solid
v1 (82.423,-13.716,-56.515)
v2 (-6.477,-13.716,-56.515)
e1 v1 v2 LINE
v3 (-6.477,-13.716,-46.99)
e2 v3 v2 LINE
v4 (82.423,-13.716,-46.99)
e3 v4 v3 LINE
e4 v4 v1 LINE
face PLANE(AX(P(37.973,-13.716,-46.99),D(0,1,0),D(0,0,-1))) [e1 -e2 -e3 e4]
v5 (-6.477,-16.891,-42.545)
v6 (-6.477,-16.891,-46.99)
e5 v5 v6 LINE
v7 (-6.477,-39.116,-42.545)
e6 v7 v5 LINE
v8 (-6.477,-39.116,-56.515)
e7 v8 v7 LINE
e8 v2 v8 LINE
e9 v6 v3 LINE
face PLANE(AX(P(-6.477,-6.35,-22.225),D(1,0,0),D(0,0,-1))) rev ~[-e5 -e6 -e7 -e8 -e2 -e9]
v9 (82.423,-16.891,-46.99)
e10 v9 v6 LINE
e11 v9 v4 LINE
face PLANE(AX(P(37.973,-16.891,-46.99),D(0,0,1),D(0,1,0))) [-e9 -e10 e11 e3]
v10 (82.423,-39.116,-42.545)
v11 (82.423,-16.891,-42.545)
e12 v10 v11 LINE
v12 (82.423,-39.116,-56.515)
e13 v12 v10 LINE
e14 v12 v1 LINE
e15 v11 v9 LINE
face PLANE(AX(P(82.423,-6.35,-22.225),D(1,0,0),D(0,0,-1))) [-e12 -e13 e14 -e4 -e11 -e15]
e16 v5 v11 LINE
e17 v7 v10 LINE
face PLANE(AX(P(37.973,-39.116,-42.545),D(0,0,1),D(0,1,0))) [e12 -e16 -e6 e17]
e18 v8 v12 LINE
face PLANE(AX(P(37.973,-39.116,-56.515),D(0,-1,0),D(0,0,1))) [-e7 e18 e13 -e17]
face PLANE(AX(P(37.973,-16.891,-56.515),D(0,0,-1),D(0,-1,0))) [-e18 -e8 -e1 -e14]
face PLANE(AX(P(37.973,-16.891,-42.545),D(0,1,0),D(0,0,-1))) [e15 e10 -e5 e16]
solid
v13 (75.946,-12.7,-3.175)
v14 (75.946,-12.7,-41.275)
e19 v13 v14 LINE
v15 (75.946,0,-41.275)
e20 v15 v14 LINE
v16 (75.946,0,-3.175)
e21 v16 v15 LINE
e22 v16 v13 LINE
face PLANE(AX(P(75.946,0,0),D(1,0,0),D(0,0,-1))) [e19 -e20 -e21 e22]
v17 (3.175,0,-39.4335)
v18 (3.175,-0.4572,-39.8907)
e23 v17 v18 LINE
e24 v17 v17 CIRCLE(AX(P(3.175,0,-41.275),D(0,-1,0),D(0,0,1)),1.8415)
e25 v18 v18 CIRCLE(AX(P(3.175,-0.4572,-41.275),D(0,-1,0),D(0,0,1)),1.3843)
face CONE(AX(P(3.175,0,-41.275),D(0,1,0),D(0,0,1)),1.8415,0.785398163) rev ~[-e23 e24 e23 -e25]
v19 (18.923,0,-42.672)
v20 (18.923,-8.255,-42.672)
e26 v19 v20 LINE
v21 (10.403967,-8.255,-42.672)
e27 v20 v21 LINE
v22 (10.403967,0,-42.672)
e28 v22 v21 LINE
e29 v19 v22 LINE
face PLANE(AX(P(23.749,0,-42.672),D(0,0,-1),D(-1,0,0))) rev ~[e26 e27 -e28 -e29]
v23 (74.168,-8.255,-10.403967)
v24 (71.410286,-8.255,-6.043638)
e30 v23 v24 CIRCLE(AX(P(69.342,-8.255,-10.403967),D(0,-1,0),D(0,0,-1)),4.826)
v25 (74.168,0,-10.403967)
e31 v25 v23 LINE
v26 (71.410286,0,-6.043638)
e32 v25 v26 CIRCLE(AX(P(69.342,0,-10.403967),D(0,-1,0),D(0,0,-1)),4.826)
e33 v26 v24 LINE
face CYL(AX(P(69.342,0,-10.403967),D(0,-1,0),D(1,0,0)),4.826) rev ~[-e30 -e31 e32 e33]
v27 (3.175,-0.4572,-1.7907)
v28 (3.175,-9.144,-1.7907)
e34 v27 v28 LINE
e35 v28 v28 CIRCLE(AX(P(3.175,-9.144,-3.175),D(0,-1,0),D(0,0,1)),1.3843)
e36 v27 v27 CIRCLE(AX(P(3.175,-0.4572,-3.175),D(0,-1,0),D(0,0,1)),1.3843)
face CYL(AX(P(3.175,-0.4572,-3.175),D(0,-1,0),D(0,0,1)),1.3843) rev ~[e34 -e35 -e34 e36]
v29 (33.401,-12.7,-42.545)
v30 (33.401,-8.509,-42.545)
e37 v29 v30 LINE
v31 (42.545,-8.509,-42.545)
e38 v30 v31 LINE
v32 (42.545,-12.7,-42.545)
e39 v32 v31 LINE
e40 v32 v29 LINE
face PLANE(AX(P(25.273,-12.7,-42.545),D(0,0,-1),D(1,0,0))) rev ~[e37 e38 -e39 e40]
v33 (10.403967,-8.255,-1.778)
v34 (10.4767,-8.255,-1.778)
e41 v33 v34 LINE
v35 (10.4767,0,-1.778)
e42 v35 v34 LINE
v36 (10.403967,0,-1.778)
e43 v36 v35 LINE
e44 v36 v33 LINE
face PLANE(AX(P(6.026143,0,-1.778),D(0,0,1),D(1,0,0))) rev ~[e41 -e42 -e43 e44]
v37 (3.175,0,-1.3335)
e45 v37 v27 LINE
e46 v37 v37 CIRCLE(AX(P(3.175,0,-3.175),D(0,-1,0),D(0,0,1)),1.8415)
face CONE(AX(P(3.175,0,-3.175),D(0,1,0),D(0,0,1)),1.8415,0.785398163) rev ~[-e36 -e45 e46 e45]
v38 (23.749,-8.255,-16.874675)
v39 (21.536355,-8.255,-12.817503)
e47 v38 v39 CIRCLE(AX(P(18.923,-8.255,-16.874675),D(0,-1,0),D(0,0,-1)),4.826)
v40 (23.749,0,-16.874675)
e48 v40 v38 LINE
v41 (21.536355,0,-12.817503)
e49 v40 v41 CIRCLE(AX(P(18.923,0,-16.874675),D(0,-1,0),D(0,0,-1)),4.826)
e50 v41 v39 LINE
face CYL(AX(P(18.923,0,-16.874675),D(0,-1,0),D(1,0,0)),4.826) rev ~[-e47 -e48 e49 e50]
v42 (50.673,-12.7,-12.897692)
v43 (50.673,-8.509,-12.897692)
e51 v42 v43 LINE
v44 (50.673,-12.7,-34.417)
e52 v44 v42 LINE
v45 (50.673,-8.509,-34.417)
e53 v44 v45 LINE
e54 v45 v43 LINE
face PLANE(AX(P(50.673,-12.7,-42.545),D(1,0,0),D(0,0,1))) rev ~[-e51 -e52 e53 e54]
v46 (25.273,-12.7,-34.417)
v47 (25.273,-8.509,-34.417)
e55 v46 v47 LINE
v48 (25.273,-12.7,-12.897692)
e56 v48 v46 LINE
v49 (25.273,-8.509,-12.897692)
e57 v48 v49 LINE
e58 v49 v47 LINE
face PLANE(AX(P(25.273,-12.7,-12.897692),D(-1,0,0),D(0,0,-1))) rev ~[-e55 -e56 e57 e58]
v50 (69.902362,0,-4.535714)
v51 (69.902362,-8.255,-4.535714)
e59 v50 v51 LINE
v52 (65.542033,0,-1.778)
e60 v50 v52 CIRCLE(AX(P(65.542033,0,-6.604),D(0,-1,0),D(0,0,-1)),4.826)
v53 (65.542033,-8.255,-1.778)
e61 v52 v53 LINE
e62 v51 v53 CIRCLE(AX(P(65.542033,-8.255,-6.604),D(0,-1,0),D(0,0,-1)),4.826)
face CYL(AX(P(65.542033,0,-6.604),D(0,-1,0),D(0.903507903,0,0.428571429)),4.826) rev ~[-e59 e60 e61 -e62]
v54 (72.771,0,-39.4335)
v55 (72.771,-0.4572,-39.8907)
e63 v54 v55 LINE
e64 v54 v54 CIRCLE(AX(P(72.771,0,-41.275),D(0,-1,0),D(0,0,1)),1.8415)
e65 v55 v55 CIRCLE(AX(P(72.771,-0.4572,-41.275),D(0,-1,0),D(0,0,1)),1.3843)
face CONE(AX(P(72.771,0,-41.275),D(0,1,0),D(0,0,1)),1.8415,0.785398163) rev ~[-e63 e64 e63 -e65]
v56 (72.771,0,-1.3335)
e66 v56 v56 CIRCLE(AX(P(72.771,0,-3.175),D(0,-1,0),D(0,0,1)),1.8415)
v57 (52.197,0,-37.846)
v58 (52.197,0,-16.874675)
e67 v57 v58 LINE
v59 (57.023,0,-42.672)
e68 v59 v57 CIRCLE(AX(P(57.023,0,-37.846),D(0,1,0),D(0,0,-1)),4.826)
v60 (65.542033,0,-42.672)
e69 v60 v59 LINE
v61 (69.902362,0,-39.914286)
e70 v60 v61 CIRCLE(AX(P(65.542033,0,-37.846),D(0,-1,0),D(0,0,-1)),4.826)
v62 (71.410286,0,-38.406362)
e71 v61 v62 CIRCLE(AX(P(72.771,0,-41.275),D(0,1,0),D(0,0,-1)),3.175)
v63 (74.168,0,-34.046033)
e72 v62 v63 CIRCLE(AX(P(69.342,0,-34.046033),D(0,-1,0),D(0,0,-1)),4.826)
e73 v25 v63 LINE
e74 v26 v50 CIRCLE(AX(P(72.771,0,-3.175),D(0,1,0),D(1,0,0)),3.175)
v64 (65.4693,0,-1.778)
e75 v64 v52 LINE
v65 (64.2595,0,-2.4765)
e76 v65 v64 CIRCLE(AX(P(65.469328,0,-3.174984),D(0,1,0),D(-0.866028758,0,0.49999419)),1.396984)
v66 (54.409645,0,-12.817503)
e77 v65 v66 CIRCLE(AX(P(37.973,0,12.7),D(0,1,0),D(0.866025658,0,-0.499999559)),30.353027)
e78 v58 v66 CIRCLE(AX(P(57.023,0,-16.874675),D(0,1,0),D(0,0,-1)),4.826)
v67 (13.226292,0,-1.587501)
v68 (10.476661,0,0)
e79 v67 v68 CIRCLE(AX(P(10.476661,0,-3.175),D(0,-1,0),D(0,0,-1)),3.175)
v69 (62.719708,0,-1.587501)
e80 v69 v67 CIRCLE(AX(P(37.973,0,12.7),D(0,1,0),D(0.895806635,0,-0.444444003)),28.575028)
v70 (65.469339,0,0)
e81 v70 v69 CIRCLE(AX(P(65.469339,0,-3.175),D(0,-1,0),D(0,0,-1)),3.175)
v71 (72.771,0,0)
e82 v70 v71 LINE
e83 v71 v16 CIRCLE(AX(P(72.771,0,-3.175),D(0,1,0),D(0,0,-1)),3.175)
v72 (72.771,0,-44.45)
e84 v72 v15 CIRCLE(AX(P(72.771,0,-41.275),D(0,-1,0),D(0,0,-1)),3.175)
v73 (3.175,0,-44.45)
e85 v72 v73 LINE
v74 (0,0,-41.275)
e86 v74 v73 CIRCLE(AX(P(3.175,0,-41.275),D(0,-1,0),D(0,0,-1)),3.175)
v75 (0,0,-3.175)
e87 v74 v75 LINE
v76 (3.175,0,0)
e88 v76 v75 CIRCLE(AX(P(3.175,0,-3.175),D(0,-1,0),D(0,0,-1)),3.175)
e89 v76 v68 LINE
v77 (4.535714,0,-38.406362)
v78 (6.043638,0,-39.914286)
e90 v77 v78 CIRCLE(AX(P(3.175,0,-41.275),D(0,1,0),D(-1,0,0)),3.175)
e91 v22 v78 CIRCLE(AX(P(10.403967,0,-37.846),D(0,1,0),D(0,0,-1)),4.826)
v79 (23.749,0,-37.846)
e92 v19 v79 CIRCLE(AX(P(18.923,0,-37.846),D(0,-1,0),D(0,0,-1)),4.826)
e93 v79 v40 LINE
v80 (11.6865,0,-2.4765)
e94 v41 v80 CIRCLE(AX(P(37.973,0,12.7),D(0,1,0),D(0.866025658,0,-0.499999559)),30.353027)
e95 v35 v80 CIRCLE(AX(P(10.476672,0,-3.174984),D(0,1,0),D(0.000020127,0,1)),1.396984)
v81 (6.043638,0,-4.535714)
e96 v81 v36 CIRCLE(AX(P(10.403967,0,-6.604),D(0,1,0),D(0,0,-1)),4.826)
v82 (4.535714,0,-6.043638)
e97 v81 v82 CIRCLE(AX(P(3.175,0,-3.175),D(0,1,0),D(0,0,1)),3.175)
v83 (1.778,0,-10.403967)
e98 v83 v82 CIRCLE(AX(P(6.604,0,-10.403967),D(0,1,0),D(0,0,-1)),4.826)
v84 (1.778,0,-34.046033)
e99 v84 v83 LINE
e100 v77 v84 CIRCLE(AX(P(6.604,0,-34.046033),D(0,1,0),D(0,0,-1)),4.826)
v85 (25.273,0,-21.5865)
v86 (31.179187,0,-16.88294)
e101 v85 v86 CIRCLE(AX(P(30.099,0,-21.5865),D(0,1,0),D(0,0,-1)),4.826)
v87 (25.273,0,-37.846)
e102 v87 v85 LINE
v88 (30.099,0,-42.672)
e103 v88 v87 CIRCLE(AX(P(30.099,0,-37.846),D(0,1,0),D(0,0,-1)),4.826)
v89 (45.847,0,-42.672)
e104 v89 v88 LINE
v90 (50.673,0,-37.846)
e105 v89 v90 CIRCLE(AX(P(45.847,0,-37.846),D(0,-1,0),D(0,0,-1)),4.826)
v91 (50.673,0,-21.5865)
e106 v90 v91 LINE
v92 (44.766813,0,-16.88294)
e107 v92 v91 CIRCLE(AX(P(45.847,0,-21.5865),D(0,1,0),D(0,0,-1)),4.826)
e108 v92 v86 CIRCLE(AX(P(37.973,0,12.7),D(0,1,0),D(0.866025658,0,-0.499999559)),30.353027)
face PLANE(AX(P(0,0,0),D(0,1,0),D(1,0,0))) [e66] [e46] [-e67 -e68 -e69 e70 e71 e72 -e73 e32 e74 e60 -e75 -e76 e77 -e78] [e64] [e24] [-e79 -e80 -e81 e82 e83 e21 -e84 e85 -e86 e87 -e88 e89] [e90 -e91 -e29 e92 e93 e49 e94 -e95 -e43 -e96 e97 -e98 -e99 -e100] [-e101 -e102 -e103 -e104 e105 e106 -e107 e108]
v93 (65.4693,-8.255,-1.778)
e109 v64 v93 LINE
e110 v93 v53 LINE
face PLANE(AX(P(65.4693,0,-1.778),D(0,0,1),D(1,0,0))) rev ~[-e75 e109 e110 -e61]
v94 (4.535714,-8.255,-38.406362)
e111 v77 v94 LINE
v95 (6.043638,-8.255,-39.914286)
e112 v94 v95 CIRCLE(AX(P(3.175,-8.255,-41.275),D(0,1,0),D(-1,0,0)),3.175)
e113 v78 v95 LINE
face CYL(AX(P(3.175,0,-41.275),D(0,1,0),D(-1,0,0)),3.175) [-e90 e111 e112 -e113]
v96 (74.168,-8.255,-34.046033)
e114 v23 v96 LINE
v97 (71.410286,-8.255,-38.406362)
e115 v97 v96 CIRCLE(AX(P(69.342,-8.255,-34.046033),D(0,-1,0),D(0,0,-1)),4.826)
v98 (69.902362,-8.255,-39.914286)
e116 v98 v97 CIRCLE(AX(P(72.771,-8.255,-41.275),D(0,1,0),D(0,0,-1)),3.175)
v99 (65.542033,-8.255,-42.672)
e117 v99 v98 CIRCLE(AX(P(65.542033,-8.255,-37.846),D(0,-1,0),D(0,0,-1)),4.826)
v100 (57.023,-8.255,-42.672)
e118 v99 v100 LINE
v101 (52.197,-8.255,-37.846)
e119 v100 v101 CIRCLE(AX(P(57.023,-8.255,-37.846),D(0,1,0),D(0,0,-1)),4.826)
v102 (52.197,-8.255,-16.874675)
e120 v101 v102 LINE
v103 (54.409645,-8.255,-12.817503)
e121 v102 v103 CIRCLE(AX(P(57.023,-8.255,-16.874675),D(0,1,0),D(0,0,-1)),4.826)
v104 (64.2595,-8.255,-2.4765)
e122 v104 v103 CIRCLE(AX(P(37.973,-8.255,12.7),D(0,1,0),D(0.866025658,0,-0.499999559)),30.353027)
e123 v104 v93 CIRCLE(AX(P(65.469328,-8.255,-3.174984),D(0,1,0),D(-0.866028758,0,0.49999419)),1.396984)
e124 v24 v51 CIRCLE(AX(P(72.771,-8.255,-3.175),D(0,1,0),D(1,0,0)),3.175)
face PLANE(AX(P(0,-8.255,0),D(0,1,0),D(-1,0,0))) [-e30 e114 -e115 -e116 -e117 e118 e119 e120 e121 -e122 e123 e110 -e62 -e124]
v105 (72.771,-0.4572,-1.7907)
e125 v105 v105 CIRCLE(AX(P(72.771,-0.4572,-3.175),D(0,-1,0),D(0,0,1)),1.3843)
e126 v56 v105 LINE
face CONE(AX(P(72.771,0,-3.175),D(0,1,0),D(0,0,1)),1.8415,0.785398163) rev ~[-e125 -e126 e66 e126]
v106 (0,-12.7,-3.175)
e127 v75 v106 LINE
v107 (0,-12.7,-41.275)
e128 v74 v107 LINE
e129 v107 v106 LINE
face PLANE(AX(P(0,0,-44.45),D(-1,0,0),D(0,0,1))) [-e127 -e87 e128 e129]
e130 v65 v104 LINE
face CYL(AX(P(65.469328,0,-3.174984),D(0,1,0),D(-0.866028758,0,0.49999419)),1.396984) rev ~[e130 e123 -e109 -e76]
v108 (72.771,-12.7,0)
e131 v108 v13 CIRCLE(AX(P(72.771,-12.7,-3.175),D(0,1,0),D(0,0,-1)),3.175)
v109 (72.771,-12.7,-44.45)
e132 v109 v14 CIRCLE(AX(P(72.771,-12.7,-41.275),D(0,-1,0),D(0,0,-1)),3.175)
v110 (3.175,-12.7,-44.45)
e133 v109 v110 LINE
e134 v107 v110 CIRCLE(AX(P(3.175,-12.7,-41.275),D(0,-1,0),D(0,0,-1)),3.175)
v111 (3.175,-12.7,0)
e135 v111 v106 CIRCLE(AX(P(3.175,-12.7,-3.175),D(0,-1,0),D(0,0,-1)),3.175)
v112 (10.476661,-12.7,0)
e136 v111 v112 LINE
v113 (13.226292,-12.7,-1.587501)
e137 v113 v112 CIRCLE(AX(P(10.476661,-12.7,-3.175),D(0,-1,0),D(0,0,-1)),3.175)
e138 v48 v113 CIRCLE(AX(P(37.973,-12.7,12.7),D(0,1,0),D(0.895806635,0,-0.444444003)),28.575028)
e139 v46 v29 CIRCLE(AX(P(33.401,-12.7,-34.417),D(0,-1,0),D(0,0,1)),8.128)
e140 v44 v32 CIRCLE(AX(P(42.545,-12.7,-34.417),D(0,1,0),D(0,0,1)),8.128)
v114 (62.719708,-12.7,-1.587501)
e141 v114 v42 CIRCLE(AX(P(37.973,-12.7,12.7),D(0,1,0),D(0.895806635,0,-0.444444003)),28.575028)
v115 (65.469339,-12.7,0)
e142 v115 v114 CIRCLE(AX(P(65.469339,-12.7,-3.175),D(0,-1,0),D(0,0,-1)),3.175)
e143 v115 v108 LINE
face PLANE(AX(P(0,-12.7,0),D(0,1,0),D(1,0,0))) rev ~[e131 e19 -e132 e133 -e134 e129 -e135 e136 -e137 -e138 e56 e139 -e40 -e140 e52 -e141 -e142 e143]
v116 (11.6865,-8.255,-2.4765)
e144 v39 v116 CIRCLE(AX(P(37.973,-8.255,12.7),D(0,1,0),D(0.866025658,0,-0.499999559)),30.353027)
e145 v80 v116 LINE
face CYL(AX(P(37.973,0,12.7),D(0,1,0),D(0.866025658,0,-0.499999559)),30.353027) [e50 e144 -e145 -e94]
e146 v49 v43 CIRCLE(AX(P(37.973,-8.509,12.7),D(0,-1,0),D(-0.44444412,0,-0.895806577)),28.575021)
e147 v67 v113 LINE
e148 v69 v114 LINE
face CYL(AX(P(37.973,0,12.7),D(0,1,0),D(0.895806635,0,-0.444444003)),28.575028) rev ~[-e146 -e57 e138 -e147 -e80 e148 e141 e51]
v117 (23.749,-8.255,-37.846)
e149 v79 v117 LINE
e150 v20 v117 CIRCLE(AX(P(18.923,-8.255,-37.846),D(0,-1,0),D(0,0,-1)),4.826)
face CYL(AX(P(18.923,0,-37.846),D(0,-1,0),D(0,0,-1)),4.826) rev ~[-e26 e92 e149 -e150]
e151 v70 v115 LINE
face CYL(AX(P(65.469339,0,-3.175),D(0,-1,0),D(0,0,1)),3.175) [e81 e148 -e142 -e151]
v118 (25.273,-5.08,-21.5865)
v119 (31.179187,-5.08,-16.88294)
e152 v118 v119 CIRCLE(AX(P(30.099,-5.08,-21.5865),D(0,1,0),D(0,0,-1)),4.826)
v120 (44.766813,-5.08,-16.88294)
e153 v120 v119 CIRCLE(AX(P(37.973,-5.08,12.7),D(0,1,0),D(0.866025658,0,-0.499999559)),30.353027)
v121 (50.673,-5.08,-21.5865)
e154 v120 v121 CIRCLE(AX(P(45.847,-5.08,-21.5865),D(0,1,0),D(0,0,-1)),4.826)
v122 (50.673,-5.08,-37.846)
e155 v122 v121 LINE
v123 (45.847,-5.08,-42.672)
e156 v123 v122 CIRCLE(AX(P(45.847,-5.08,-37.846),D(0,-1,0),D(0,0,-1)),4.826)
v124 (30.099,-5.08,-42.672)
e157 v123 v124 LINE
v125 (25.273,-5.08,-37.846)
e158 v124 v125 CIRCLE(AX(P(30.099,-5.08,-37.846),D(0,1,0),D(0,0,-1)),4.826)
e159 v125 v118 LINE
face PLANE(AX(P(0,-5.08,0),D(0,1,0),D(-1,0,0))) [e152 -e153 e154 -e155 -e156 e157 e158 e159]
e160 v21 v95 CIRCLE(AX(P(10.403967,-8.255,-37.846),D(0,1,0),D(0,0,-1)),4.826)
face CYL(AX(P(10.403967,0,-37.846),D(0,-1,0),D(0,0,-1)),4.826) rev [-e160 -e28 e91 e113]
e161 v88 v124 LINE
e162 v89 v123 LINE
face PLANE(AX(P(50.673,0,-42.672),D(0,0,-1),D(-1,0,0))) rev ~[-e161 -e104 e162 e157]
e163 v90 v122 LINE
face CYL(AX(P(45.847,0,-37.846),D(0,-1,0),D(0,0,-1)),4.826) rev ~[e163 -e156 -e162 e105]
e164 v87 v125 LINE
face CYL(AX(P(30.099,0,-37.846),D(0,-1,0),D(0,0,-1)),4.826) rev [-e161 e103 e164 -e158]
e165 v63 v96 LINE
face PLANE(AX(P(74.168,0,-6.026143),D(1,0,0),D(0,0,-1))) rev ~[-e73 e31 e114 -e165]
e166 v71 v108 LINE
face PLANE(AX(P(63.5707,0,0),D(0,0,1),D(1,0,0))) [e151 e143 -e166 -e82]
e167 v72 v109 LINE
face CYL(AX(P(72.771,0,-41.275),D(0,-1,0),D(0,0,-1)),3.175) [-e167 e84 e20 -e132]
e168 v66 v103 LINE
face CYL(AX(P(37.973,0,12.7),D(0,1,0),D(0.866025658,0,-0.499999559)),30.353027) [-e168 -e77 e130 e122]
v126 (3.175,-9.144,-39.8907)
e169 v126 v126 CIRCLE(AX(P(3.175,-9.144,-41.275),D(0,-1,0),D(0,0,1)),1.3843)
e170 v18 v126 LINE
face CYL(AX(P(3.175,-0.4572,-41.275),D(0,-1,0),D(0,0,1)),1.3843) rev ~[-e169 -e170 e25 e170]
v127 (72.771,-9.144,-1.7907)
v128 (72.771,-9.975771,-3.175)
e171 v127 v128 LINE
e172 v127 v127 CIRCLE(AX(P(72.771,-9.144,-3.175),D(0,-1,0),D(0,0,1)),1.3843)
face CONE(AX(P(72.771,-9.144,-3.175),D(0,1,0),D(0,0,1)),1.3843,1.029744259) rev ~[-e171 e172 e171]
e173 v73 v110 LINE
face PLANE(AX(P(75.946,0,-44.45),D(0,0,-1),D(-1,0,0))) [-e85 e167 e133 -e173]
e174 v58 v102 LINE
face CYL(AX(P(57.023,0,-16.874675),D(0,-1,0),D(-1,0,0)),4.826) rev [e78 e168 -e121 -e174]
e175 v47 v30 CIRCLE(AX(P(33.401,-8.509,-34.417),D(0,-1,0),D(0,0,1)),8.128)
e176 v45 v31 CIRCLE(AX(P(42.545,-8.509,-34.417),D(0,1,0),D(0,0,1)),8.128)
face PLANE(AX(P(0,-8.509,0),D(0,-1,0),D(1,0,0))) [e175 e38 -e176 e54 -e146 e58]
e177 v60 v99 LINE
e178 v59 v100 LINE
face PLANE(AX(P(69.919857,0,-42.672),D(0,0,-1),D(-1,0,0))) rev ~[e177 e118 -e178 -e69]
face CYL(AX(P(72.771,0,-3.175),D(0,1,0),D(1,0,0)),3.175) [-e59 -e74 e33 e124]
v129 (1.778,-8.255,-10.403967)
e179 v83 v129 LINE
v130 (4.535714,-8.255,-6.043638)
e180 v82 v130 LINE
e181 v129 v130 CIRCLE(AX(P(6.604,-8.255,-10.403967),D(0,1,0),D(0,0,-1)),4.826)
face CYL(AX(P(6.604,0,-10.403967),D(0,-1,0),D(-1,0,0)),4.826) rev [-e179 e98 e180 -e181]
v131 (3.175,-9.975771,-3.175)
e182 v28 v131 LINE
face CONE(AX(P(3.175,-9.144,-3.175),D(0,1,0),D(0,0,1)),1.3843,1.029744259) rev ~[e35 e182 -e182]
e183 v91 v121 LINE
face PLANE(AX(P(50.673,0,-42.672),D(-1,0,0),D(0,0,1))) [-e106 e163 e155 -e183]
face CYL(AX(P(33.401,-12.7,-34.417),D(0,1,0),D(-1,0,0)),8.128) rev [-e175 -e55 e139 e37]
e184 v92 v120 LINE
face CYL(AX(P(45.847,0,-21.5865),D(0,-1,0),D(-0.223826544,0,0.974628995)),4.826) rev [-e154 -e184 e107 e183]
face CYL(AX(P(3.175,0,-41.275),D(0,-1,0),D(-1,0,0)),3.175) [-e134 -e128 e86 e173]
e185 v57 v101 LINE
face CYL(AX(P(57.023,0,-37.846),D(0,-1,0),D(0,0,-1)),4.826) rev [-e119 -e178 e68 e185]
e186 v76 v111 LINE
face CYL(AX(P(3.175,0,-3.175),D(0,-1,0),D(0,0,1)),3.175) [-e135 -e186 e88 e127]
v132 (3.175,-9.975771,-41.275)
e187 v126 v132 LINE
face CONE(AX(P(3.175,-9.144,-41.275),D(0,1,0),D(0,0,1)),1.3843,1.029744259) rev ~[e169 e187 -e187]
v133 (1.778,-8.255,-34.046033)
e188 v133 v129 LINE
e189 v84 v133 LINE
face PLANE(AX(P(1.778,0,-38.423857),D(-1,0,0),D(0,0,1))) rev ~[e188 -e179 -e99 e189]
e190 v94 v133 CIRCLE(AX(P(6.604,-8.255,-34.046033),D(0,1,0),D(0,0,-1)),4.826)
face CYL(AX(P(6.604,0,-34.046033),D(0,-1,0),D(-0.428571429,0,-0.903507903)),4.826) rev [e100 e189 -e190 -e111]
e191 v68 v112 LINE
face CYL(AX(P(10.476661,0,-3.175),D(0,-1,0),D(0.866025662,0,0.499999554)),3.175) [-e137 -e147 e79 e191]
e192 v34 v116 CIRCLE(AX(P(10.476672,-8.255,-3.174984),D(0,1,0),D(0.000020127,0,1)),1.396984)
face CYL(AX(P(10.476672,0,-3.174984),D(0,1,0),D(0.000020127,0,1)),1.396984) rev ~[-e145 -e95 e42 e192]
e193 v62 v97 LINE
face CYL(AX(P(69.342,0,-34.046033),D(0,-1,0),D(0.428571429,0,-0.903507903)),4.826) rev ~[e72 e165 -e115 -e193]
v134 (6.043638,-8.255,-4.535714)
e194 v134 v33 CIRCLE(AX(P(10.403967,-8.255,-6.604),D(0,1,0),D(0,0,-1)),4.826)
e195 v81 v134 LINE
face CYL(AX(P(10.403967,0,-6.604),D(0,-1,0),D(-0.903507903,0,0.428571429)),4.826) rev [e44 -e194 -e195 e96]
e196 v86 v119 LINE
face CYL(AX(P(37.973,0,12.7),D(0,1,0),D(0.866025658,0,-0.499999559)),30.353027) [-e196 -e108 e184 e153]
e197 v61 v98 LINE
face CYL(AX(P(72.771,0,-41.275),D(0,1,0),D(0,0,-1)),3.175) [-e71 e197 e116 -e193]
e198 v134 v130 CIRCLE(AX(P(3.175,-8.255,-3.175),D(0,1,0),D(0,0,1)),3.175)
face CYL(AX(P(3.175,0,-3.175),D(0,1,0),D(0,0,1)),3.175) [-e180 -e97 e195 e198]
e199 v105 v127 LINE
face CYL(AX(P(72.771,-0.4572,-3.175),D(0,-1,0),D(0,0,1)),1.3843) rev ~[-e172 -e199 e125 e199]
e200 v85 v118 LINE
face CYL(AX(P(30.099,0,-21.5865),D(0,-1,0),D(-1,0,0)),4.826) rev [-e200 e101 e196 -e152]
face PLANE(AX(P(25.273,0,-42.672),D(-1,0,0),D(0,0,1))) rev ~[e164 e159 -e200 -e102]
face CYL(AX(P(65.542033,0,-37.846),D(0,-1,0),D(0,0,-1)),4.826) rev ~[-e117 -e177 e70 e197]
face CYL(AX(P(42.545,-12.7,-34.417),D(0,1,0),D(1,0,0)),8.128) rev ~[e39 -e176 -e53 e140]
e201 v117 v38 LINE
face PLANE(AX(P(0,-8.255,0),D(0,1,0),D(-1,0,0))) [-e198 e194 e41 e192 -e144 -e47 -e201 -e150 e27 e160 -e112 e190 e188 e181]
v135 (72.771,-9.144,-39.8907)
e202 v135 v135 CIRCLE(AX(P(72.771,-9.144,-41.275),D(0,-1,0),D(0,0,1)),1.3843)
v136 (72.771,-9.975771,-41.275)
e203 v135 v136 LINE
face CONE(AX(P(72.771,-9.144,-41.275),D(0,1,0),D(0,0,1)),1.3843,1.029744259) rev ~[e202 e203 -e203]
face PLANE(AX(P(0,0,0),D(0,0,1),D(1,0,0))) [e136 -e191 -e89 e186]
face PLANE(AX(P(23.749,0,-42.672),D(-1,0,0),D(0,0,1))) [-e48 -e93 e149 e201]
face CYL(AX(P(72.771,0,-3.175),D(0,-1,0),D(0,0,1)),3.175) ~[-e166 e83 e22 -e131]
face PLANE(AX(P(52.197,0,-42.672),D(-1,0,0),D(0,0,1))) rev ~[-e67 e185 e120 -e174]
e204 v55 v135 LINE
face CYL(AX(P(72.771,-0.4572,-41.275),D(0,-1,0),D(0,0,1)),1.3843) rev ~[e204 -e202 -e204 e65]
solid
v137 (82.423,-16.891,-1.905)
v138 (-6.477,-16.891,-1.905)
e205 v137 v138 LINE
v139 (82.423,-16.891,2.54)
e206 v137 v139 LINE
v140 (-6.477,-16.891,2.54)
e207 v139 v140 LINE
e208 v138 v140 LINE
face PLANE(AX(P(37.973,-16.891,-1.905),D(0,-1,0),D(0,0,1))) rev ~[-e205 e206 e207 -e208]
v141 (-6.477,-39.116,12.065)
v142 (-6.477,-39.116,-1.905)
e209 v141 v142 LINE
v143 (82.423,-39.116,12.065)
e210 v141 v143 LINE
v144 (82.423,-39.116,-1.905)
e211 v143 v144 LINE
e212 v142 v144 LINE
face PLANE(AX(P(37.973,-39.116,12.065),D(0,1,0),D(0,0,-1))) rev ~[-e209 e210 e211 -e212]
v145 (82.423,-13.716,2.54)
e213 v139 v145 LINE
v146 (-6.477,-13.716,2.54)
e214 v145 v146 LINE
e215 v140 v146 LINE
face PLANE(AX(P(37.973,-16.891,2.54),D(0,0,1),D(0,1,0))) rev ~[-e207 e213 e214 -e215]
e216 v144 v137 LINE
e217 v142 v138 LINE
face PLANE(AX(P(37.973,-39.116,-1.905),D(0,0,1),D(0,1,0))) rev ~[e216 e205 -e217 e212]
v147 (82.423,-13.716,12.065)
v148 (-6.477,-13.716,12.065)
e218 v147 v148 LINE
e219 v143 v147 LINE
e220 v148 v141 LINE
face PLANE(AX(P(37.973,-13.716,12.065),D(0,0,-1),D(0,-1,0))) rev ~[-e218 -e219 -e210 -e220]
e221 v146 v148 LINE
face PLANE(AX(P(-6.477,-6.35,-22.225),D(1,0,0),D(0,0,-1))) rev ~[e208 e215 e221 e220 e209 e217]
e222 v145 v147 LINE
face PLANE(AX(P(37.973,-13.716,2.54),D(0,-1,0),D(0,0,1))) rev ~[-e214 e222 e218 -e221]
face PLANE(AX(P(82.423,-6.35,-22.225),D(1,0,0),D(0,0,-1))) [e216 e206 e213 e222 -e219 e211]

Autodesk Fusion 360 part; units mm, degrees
sketch "Sketch1" plane through (0, 0, 0) normal (0, 1, 0) x (1, 0, 0)
  line L0 (75.946, 0) -> (75.946, 44.45)
  line L1 (75.946, 44.45) -> (0, 44.45)
  line L2 (0, 44.45) -> (0, 0)
  arc A0 (63.5707, 0) -> (12.3753, 0) centre (37.973, -12.7) ccw
  line L3 (0, 0) -> (12.3753, 0)
  line L4 (63.5707, 0) -> (75.946, 0)
  dimension "d1" = 75.946
  dimension "d2" = 44.45
  dimension "d3" = 12.7
  dimension "d4" = 28.575
  dimension "d5" = 37.973
extrude "Extrude1" add sketch "Sketch1" against normal blind 12.7 makes body 1
fillet "Fillet1" radius 3.175 6 edges at (0, -6.35, 0) (12.3753, -6.35, 0) (63.5707, -6.35, 0) (75.946, -6.35, 0) (75.946, -6.35, -44.45) (0, -6.35, -44.45) on bodies 1
sketch "Sketch2" plane through (0, 0, 0) normal (0, 1, 0) x (-1, 0, 0)
  arc A0 (-3.175, -44.45) -> (0, -41.275) centre (-3.175, -41.275) ccw
  line L0 (0, -41.275) -> (0, -3.175)
  arc A1 (0, -3.175) -> (-3.175, 0) centre (-3.175, -3.175) ccw
  line L1 (-3.175, 0) -> (-10.4767, 0)
  arc A2 (-10.4767, 0) -> (-13.2263, -1.5875) centre (-10.4767, -3.175) ccw
  arc A3 (-62.7197, -1.5875) -> (-13.2263, -1.5875) centre (-37.973, 12.7) ccw
  arc A4 (-62.7197, -1.5875) -> (-65.4693, 0) centre (-65.4693, -3.175) ccw
  line L2 (-65.4693, 0) -> (-72.771, 0)
  arc A5 (-72.771, 0) -> (-75.946, -3.175) centre (-72.771, -3.175) ccw
  line L3 (-75.946, -3.175) -> (-75.946, -41.275)
  arc A6 (-75.946, -41.275) -> (-72.771, -44.45) centre (-72.771, -41.275) ccw
  line L4 (-72.771, -44.45) -> (-3.175, -44.45)
  line L5 (-1.778, -41.275) -> (-1.778, -3.175)
  arc A7 (-1.778, -3.175) -> (-3.175, -1.778) centre (-3.175, -3.175) ccw
  line L6 (-3.175, -1.778) -> (-10.4767, -1.778)
  arc A8 (-10.4767, -1.778) -> (-11.6865, -2.4765) centre (-10.4767, -3.175) ccw
  arc A9 (-64.2595, -2.4765) -> (-11.6865, -2.4765) centre (-37.973, 12.7) ccw
  arc A10 (-64.2595, -2.4765) -> (-65.4693, -1.778) centre (-65.4693, -3.175) ccw
  line L7 (-65.4693, -1.778) -> (-72.771, -1.778)
  arc A11 (-72.771, -1.778) -> (-74.168, -3.175) centre (-72.771, -3.175) ccw
  line L8 (-74.168, -3.175) -> (-74.168, -41.275)
  arc A12 (-74.168, -41.275) -> (-72.771, -42.672) centre (-72.771, -41.275) ccw
  line L9 (-72.771, -42.672) -> (-3.175, -42.672)
  arc A13 (-3.175, -42.672) -> (-1.778, -41.275) centre (-3.175, -41.275) ccw
  line L10 (-37.973, -44.45) -> (-37.973, -6.9842) construction
  line L11 (-25.273, -47.7039) -> (-25.273, -6.2054)
  line L12 (-23.749, -47.7039) -> (-23.749, -6.2054)
  line L13 (-50.673, -47.7039) -> (-50.673, -6.2054)
  line L14 (-52.197, -47.7039) -> (-52.197, -6.2054)
  arc A14 (0, -41.275) -> (-3.175, -44.45) centre (-3.175, -41.275) ccw
  arc A15 (-72.771, -44.45) -> (-75.946, -41.275) centre (-72.771, -41.275) ccw
  arc A16 (-75.946, -3.175) -> (-72.771, 0) centre (-72.771, -3.175) ccw
  arc A17 (-3.175, 0) -> (0, -3.175) centre (-3.175, -3.175) ccw
  dimension "d9" = -1.778
  dimension "d10" = 1.524
  dimension "d11" = 12.7
extrude "Extrude2" cut sketch "Sketch2" against normal blind 8.255 contours L5 L6 A8 A9 L9 L12 A14 A17 | A9 A10 L7 L8 L9 L14 A15 A16 bodies 1
extrude "Extrude3" cut sketch "Sketch2" against normal blind 5.08 contours A9 L9 L11 L13 bodies 1
fillet "Fillet2" radius 4.826 16 edges at (6.0261, -4.1275, -42.672) (1.778, -4.1275, -38.4239) (1.778, -4.1275, -6.0261) (6.0261, -4.1275, -1.778) (23.749, -4.1275, -14.1138) (23.749, -4.1275, -42.672) (50.673, -2.54, -42.672) (69.9199, -4.1275, -42.672) (74.168, -4.1275, -38.4239) (25.273, -2.54, -42.672) (25.273, -2.54, -14.8684) (50.673, -2.54, -14.8684) (69.9199, -4.1275, -1.778) (74.168, -4.1275, -6.0261) (52.197, -4.1275, -42.672) (52.197, -4.1275, -14.1138) on bodies 1
hole "Hole1" at (3.175, 0, -41.275) at (3.175, 0, -3.175) at (72.771, 0, -3.175) at (72.771, 0, -41.275) direction (0, -1, 0) diameter 2.7686 depth 9.144 tip angle 118 countersink diameter 3.683 countersink angle 90 bodies 1
sketch "Sketch3" plane through (0, -12.7, 0) normal (0, -1, 0) x (1, 0, 0)
  arc A0 (0, -41.275) -> (3.175, -44.45) centre (3.175, -41.275) ccw
  line L0 (3.175, -44.45) -> (72.771, -44.45)
  arc A1 (72.771, -44.45) -> (75.946, -41.275) centre (72.771, -41.275) ccw
  line L1 (75.946, -41.275) -> (75.946, -3.175)
  arc A2 (75.946, -3.175) -> (72.771, 0) centre (72.771, -3.175) ccw
  line L2 (72.771, 0) -> (65.4693, 0)
  arc A3 (65.4693, 0) -> (62.7197, -1.5875) centre (65.4693, -3.175) ccw
  arc A4 (13.2263, -1.5875) -> (62.7197, -1.5875) centre (37.973, 12.7) ccw
  arc A5 (13.2263, -1.5875) -> (10.4767, 0) centre (10.4767, -3.175) ccw
  line L3 (10.4767, 0) -> (3.175, 0)
  arc A6 (3.175, 0) -> (0, -3.175) centre (3.175, -3.175) ccw
  line L4 (0, -3.175) -> (0, -41.275)
  line L5 (37.973, -44.45) -> (37.973, -7.62)
  line L6 (50.673, -9.525) -> (25.273, -9.525)
  line L7 (25.273, -9.525) -> (25.273, -42.545)
  line L8 (25.273, -42.545) -> (50.673, -42.545)
  line L9 (50.673, -42.545) -> (50.673, -9.525)
  line L10 (50.673, -9.525) -> (25.273, -42.545) construction
  line L11 (25.273, -9.525) -> (50.673, -42.545) construction
  point P0 (37.973, -26.035)
  dimension "d24" = 33.02
  dimension "d25" = 25.4
extrude "Extrude4" cut sketch "Sketch3" against normal blind 4.191 contours A4 L5 L7 L8 | A4 L5 L8 L9 bodies 1
fillet "Fillet3" radius 8.128 2 edges at (50.673, -10.6045, -42.545) (25.273, -10.6045, -42.545) on bodies 1
ref_plane "WorkPlane1" through (37.973, -6.35, -22.225) normal (1, 0, 0) x (0, 0, 1)
sketch "Sketch4" plane through (37.973, -6.35, -22.225) normal (1, 0, 0) x (0, 0, -1)
  line L0 (0, 0) -> (0, -17.7867)
  line L1 (-17.4102, -10.541) -> (14.5751, -10.541)
  line L2 (19.05, -6.35) -> (-19.05, -6.35)
  line L3 (20.32, -10.541) -> (34.29, -10.541)
  line L4 (34.29, -10.541) -> (34.29, -32.766)
  line L5 (34.29, -32.766) -> (20.32, -32.766)
  line L6 (20.32, -32.766) -> (20.32, -10.541)
  line L7 (34.29, -10.541) -> (24.765, -10.541)
  line L8 (24.765, -10.541) -> (24.765, -7.366)
  line L9 (24.765, -7.366) -> (34.29, -7.366)
  line L10 (34.29, -7.366) -> (34.29, -10.541)
  line L11 (-34.29, -10.541) -> (-24.765, -10.541)
  line L12 (-34.29, -7.366) -> (-34.29, -10.541)
  line L13 (-24.765, -7.366) -> (-34.29, -7.366)
  line L14 (-20.32, -32.766) -> (-20.32, -10.541)
  line L15 (-24.765, -10.541) -> (-24.765, -7.366)
  line L16 (-20.32, -10.541) -> (-34.29, -10.541)
  line L17 (-34.29, -32.766) -> (-20.32, -32.766)
  line L18 (-34.29, -10.541) -> (-34.29, -32.766)
  dimension "d29" = 4.191
  dimension "d30" = 22.225
  dimension "d31" = 13.97
  dimension "d32" = 3.175
  dimension "d33" = 9.525
  dimension "d34" = 20.32
extrude "Extrude5" add sketch "Sketch4" along normal mid plane 88.9 separate body makes body 2 at (23.1563, -22.1827, 12.065) makes body 3 at (52.7897, -30.6493, -56.515)
